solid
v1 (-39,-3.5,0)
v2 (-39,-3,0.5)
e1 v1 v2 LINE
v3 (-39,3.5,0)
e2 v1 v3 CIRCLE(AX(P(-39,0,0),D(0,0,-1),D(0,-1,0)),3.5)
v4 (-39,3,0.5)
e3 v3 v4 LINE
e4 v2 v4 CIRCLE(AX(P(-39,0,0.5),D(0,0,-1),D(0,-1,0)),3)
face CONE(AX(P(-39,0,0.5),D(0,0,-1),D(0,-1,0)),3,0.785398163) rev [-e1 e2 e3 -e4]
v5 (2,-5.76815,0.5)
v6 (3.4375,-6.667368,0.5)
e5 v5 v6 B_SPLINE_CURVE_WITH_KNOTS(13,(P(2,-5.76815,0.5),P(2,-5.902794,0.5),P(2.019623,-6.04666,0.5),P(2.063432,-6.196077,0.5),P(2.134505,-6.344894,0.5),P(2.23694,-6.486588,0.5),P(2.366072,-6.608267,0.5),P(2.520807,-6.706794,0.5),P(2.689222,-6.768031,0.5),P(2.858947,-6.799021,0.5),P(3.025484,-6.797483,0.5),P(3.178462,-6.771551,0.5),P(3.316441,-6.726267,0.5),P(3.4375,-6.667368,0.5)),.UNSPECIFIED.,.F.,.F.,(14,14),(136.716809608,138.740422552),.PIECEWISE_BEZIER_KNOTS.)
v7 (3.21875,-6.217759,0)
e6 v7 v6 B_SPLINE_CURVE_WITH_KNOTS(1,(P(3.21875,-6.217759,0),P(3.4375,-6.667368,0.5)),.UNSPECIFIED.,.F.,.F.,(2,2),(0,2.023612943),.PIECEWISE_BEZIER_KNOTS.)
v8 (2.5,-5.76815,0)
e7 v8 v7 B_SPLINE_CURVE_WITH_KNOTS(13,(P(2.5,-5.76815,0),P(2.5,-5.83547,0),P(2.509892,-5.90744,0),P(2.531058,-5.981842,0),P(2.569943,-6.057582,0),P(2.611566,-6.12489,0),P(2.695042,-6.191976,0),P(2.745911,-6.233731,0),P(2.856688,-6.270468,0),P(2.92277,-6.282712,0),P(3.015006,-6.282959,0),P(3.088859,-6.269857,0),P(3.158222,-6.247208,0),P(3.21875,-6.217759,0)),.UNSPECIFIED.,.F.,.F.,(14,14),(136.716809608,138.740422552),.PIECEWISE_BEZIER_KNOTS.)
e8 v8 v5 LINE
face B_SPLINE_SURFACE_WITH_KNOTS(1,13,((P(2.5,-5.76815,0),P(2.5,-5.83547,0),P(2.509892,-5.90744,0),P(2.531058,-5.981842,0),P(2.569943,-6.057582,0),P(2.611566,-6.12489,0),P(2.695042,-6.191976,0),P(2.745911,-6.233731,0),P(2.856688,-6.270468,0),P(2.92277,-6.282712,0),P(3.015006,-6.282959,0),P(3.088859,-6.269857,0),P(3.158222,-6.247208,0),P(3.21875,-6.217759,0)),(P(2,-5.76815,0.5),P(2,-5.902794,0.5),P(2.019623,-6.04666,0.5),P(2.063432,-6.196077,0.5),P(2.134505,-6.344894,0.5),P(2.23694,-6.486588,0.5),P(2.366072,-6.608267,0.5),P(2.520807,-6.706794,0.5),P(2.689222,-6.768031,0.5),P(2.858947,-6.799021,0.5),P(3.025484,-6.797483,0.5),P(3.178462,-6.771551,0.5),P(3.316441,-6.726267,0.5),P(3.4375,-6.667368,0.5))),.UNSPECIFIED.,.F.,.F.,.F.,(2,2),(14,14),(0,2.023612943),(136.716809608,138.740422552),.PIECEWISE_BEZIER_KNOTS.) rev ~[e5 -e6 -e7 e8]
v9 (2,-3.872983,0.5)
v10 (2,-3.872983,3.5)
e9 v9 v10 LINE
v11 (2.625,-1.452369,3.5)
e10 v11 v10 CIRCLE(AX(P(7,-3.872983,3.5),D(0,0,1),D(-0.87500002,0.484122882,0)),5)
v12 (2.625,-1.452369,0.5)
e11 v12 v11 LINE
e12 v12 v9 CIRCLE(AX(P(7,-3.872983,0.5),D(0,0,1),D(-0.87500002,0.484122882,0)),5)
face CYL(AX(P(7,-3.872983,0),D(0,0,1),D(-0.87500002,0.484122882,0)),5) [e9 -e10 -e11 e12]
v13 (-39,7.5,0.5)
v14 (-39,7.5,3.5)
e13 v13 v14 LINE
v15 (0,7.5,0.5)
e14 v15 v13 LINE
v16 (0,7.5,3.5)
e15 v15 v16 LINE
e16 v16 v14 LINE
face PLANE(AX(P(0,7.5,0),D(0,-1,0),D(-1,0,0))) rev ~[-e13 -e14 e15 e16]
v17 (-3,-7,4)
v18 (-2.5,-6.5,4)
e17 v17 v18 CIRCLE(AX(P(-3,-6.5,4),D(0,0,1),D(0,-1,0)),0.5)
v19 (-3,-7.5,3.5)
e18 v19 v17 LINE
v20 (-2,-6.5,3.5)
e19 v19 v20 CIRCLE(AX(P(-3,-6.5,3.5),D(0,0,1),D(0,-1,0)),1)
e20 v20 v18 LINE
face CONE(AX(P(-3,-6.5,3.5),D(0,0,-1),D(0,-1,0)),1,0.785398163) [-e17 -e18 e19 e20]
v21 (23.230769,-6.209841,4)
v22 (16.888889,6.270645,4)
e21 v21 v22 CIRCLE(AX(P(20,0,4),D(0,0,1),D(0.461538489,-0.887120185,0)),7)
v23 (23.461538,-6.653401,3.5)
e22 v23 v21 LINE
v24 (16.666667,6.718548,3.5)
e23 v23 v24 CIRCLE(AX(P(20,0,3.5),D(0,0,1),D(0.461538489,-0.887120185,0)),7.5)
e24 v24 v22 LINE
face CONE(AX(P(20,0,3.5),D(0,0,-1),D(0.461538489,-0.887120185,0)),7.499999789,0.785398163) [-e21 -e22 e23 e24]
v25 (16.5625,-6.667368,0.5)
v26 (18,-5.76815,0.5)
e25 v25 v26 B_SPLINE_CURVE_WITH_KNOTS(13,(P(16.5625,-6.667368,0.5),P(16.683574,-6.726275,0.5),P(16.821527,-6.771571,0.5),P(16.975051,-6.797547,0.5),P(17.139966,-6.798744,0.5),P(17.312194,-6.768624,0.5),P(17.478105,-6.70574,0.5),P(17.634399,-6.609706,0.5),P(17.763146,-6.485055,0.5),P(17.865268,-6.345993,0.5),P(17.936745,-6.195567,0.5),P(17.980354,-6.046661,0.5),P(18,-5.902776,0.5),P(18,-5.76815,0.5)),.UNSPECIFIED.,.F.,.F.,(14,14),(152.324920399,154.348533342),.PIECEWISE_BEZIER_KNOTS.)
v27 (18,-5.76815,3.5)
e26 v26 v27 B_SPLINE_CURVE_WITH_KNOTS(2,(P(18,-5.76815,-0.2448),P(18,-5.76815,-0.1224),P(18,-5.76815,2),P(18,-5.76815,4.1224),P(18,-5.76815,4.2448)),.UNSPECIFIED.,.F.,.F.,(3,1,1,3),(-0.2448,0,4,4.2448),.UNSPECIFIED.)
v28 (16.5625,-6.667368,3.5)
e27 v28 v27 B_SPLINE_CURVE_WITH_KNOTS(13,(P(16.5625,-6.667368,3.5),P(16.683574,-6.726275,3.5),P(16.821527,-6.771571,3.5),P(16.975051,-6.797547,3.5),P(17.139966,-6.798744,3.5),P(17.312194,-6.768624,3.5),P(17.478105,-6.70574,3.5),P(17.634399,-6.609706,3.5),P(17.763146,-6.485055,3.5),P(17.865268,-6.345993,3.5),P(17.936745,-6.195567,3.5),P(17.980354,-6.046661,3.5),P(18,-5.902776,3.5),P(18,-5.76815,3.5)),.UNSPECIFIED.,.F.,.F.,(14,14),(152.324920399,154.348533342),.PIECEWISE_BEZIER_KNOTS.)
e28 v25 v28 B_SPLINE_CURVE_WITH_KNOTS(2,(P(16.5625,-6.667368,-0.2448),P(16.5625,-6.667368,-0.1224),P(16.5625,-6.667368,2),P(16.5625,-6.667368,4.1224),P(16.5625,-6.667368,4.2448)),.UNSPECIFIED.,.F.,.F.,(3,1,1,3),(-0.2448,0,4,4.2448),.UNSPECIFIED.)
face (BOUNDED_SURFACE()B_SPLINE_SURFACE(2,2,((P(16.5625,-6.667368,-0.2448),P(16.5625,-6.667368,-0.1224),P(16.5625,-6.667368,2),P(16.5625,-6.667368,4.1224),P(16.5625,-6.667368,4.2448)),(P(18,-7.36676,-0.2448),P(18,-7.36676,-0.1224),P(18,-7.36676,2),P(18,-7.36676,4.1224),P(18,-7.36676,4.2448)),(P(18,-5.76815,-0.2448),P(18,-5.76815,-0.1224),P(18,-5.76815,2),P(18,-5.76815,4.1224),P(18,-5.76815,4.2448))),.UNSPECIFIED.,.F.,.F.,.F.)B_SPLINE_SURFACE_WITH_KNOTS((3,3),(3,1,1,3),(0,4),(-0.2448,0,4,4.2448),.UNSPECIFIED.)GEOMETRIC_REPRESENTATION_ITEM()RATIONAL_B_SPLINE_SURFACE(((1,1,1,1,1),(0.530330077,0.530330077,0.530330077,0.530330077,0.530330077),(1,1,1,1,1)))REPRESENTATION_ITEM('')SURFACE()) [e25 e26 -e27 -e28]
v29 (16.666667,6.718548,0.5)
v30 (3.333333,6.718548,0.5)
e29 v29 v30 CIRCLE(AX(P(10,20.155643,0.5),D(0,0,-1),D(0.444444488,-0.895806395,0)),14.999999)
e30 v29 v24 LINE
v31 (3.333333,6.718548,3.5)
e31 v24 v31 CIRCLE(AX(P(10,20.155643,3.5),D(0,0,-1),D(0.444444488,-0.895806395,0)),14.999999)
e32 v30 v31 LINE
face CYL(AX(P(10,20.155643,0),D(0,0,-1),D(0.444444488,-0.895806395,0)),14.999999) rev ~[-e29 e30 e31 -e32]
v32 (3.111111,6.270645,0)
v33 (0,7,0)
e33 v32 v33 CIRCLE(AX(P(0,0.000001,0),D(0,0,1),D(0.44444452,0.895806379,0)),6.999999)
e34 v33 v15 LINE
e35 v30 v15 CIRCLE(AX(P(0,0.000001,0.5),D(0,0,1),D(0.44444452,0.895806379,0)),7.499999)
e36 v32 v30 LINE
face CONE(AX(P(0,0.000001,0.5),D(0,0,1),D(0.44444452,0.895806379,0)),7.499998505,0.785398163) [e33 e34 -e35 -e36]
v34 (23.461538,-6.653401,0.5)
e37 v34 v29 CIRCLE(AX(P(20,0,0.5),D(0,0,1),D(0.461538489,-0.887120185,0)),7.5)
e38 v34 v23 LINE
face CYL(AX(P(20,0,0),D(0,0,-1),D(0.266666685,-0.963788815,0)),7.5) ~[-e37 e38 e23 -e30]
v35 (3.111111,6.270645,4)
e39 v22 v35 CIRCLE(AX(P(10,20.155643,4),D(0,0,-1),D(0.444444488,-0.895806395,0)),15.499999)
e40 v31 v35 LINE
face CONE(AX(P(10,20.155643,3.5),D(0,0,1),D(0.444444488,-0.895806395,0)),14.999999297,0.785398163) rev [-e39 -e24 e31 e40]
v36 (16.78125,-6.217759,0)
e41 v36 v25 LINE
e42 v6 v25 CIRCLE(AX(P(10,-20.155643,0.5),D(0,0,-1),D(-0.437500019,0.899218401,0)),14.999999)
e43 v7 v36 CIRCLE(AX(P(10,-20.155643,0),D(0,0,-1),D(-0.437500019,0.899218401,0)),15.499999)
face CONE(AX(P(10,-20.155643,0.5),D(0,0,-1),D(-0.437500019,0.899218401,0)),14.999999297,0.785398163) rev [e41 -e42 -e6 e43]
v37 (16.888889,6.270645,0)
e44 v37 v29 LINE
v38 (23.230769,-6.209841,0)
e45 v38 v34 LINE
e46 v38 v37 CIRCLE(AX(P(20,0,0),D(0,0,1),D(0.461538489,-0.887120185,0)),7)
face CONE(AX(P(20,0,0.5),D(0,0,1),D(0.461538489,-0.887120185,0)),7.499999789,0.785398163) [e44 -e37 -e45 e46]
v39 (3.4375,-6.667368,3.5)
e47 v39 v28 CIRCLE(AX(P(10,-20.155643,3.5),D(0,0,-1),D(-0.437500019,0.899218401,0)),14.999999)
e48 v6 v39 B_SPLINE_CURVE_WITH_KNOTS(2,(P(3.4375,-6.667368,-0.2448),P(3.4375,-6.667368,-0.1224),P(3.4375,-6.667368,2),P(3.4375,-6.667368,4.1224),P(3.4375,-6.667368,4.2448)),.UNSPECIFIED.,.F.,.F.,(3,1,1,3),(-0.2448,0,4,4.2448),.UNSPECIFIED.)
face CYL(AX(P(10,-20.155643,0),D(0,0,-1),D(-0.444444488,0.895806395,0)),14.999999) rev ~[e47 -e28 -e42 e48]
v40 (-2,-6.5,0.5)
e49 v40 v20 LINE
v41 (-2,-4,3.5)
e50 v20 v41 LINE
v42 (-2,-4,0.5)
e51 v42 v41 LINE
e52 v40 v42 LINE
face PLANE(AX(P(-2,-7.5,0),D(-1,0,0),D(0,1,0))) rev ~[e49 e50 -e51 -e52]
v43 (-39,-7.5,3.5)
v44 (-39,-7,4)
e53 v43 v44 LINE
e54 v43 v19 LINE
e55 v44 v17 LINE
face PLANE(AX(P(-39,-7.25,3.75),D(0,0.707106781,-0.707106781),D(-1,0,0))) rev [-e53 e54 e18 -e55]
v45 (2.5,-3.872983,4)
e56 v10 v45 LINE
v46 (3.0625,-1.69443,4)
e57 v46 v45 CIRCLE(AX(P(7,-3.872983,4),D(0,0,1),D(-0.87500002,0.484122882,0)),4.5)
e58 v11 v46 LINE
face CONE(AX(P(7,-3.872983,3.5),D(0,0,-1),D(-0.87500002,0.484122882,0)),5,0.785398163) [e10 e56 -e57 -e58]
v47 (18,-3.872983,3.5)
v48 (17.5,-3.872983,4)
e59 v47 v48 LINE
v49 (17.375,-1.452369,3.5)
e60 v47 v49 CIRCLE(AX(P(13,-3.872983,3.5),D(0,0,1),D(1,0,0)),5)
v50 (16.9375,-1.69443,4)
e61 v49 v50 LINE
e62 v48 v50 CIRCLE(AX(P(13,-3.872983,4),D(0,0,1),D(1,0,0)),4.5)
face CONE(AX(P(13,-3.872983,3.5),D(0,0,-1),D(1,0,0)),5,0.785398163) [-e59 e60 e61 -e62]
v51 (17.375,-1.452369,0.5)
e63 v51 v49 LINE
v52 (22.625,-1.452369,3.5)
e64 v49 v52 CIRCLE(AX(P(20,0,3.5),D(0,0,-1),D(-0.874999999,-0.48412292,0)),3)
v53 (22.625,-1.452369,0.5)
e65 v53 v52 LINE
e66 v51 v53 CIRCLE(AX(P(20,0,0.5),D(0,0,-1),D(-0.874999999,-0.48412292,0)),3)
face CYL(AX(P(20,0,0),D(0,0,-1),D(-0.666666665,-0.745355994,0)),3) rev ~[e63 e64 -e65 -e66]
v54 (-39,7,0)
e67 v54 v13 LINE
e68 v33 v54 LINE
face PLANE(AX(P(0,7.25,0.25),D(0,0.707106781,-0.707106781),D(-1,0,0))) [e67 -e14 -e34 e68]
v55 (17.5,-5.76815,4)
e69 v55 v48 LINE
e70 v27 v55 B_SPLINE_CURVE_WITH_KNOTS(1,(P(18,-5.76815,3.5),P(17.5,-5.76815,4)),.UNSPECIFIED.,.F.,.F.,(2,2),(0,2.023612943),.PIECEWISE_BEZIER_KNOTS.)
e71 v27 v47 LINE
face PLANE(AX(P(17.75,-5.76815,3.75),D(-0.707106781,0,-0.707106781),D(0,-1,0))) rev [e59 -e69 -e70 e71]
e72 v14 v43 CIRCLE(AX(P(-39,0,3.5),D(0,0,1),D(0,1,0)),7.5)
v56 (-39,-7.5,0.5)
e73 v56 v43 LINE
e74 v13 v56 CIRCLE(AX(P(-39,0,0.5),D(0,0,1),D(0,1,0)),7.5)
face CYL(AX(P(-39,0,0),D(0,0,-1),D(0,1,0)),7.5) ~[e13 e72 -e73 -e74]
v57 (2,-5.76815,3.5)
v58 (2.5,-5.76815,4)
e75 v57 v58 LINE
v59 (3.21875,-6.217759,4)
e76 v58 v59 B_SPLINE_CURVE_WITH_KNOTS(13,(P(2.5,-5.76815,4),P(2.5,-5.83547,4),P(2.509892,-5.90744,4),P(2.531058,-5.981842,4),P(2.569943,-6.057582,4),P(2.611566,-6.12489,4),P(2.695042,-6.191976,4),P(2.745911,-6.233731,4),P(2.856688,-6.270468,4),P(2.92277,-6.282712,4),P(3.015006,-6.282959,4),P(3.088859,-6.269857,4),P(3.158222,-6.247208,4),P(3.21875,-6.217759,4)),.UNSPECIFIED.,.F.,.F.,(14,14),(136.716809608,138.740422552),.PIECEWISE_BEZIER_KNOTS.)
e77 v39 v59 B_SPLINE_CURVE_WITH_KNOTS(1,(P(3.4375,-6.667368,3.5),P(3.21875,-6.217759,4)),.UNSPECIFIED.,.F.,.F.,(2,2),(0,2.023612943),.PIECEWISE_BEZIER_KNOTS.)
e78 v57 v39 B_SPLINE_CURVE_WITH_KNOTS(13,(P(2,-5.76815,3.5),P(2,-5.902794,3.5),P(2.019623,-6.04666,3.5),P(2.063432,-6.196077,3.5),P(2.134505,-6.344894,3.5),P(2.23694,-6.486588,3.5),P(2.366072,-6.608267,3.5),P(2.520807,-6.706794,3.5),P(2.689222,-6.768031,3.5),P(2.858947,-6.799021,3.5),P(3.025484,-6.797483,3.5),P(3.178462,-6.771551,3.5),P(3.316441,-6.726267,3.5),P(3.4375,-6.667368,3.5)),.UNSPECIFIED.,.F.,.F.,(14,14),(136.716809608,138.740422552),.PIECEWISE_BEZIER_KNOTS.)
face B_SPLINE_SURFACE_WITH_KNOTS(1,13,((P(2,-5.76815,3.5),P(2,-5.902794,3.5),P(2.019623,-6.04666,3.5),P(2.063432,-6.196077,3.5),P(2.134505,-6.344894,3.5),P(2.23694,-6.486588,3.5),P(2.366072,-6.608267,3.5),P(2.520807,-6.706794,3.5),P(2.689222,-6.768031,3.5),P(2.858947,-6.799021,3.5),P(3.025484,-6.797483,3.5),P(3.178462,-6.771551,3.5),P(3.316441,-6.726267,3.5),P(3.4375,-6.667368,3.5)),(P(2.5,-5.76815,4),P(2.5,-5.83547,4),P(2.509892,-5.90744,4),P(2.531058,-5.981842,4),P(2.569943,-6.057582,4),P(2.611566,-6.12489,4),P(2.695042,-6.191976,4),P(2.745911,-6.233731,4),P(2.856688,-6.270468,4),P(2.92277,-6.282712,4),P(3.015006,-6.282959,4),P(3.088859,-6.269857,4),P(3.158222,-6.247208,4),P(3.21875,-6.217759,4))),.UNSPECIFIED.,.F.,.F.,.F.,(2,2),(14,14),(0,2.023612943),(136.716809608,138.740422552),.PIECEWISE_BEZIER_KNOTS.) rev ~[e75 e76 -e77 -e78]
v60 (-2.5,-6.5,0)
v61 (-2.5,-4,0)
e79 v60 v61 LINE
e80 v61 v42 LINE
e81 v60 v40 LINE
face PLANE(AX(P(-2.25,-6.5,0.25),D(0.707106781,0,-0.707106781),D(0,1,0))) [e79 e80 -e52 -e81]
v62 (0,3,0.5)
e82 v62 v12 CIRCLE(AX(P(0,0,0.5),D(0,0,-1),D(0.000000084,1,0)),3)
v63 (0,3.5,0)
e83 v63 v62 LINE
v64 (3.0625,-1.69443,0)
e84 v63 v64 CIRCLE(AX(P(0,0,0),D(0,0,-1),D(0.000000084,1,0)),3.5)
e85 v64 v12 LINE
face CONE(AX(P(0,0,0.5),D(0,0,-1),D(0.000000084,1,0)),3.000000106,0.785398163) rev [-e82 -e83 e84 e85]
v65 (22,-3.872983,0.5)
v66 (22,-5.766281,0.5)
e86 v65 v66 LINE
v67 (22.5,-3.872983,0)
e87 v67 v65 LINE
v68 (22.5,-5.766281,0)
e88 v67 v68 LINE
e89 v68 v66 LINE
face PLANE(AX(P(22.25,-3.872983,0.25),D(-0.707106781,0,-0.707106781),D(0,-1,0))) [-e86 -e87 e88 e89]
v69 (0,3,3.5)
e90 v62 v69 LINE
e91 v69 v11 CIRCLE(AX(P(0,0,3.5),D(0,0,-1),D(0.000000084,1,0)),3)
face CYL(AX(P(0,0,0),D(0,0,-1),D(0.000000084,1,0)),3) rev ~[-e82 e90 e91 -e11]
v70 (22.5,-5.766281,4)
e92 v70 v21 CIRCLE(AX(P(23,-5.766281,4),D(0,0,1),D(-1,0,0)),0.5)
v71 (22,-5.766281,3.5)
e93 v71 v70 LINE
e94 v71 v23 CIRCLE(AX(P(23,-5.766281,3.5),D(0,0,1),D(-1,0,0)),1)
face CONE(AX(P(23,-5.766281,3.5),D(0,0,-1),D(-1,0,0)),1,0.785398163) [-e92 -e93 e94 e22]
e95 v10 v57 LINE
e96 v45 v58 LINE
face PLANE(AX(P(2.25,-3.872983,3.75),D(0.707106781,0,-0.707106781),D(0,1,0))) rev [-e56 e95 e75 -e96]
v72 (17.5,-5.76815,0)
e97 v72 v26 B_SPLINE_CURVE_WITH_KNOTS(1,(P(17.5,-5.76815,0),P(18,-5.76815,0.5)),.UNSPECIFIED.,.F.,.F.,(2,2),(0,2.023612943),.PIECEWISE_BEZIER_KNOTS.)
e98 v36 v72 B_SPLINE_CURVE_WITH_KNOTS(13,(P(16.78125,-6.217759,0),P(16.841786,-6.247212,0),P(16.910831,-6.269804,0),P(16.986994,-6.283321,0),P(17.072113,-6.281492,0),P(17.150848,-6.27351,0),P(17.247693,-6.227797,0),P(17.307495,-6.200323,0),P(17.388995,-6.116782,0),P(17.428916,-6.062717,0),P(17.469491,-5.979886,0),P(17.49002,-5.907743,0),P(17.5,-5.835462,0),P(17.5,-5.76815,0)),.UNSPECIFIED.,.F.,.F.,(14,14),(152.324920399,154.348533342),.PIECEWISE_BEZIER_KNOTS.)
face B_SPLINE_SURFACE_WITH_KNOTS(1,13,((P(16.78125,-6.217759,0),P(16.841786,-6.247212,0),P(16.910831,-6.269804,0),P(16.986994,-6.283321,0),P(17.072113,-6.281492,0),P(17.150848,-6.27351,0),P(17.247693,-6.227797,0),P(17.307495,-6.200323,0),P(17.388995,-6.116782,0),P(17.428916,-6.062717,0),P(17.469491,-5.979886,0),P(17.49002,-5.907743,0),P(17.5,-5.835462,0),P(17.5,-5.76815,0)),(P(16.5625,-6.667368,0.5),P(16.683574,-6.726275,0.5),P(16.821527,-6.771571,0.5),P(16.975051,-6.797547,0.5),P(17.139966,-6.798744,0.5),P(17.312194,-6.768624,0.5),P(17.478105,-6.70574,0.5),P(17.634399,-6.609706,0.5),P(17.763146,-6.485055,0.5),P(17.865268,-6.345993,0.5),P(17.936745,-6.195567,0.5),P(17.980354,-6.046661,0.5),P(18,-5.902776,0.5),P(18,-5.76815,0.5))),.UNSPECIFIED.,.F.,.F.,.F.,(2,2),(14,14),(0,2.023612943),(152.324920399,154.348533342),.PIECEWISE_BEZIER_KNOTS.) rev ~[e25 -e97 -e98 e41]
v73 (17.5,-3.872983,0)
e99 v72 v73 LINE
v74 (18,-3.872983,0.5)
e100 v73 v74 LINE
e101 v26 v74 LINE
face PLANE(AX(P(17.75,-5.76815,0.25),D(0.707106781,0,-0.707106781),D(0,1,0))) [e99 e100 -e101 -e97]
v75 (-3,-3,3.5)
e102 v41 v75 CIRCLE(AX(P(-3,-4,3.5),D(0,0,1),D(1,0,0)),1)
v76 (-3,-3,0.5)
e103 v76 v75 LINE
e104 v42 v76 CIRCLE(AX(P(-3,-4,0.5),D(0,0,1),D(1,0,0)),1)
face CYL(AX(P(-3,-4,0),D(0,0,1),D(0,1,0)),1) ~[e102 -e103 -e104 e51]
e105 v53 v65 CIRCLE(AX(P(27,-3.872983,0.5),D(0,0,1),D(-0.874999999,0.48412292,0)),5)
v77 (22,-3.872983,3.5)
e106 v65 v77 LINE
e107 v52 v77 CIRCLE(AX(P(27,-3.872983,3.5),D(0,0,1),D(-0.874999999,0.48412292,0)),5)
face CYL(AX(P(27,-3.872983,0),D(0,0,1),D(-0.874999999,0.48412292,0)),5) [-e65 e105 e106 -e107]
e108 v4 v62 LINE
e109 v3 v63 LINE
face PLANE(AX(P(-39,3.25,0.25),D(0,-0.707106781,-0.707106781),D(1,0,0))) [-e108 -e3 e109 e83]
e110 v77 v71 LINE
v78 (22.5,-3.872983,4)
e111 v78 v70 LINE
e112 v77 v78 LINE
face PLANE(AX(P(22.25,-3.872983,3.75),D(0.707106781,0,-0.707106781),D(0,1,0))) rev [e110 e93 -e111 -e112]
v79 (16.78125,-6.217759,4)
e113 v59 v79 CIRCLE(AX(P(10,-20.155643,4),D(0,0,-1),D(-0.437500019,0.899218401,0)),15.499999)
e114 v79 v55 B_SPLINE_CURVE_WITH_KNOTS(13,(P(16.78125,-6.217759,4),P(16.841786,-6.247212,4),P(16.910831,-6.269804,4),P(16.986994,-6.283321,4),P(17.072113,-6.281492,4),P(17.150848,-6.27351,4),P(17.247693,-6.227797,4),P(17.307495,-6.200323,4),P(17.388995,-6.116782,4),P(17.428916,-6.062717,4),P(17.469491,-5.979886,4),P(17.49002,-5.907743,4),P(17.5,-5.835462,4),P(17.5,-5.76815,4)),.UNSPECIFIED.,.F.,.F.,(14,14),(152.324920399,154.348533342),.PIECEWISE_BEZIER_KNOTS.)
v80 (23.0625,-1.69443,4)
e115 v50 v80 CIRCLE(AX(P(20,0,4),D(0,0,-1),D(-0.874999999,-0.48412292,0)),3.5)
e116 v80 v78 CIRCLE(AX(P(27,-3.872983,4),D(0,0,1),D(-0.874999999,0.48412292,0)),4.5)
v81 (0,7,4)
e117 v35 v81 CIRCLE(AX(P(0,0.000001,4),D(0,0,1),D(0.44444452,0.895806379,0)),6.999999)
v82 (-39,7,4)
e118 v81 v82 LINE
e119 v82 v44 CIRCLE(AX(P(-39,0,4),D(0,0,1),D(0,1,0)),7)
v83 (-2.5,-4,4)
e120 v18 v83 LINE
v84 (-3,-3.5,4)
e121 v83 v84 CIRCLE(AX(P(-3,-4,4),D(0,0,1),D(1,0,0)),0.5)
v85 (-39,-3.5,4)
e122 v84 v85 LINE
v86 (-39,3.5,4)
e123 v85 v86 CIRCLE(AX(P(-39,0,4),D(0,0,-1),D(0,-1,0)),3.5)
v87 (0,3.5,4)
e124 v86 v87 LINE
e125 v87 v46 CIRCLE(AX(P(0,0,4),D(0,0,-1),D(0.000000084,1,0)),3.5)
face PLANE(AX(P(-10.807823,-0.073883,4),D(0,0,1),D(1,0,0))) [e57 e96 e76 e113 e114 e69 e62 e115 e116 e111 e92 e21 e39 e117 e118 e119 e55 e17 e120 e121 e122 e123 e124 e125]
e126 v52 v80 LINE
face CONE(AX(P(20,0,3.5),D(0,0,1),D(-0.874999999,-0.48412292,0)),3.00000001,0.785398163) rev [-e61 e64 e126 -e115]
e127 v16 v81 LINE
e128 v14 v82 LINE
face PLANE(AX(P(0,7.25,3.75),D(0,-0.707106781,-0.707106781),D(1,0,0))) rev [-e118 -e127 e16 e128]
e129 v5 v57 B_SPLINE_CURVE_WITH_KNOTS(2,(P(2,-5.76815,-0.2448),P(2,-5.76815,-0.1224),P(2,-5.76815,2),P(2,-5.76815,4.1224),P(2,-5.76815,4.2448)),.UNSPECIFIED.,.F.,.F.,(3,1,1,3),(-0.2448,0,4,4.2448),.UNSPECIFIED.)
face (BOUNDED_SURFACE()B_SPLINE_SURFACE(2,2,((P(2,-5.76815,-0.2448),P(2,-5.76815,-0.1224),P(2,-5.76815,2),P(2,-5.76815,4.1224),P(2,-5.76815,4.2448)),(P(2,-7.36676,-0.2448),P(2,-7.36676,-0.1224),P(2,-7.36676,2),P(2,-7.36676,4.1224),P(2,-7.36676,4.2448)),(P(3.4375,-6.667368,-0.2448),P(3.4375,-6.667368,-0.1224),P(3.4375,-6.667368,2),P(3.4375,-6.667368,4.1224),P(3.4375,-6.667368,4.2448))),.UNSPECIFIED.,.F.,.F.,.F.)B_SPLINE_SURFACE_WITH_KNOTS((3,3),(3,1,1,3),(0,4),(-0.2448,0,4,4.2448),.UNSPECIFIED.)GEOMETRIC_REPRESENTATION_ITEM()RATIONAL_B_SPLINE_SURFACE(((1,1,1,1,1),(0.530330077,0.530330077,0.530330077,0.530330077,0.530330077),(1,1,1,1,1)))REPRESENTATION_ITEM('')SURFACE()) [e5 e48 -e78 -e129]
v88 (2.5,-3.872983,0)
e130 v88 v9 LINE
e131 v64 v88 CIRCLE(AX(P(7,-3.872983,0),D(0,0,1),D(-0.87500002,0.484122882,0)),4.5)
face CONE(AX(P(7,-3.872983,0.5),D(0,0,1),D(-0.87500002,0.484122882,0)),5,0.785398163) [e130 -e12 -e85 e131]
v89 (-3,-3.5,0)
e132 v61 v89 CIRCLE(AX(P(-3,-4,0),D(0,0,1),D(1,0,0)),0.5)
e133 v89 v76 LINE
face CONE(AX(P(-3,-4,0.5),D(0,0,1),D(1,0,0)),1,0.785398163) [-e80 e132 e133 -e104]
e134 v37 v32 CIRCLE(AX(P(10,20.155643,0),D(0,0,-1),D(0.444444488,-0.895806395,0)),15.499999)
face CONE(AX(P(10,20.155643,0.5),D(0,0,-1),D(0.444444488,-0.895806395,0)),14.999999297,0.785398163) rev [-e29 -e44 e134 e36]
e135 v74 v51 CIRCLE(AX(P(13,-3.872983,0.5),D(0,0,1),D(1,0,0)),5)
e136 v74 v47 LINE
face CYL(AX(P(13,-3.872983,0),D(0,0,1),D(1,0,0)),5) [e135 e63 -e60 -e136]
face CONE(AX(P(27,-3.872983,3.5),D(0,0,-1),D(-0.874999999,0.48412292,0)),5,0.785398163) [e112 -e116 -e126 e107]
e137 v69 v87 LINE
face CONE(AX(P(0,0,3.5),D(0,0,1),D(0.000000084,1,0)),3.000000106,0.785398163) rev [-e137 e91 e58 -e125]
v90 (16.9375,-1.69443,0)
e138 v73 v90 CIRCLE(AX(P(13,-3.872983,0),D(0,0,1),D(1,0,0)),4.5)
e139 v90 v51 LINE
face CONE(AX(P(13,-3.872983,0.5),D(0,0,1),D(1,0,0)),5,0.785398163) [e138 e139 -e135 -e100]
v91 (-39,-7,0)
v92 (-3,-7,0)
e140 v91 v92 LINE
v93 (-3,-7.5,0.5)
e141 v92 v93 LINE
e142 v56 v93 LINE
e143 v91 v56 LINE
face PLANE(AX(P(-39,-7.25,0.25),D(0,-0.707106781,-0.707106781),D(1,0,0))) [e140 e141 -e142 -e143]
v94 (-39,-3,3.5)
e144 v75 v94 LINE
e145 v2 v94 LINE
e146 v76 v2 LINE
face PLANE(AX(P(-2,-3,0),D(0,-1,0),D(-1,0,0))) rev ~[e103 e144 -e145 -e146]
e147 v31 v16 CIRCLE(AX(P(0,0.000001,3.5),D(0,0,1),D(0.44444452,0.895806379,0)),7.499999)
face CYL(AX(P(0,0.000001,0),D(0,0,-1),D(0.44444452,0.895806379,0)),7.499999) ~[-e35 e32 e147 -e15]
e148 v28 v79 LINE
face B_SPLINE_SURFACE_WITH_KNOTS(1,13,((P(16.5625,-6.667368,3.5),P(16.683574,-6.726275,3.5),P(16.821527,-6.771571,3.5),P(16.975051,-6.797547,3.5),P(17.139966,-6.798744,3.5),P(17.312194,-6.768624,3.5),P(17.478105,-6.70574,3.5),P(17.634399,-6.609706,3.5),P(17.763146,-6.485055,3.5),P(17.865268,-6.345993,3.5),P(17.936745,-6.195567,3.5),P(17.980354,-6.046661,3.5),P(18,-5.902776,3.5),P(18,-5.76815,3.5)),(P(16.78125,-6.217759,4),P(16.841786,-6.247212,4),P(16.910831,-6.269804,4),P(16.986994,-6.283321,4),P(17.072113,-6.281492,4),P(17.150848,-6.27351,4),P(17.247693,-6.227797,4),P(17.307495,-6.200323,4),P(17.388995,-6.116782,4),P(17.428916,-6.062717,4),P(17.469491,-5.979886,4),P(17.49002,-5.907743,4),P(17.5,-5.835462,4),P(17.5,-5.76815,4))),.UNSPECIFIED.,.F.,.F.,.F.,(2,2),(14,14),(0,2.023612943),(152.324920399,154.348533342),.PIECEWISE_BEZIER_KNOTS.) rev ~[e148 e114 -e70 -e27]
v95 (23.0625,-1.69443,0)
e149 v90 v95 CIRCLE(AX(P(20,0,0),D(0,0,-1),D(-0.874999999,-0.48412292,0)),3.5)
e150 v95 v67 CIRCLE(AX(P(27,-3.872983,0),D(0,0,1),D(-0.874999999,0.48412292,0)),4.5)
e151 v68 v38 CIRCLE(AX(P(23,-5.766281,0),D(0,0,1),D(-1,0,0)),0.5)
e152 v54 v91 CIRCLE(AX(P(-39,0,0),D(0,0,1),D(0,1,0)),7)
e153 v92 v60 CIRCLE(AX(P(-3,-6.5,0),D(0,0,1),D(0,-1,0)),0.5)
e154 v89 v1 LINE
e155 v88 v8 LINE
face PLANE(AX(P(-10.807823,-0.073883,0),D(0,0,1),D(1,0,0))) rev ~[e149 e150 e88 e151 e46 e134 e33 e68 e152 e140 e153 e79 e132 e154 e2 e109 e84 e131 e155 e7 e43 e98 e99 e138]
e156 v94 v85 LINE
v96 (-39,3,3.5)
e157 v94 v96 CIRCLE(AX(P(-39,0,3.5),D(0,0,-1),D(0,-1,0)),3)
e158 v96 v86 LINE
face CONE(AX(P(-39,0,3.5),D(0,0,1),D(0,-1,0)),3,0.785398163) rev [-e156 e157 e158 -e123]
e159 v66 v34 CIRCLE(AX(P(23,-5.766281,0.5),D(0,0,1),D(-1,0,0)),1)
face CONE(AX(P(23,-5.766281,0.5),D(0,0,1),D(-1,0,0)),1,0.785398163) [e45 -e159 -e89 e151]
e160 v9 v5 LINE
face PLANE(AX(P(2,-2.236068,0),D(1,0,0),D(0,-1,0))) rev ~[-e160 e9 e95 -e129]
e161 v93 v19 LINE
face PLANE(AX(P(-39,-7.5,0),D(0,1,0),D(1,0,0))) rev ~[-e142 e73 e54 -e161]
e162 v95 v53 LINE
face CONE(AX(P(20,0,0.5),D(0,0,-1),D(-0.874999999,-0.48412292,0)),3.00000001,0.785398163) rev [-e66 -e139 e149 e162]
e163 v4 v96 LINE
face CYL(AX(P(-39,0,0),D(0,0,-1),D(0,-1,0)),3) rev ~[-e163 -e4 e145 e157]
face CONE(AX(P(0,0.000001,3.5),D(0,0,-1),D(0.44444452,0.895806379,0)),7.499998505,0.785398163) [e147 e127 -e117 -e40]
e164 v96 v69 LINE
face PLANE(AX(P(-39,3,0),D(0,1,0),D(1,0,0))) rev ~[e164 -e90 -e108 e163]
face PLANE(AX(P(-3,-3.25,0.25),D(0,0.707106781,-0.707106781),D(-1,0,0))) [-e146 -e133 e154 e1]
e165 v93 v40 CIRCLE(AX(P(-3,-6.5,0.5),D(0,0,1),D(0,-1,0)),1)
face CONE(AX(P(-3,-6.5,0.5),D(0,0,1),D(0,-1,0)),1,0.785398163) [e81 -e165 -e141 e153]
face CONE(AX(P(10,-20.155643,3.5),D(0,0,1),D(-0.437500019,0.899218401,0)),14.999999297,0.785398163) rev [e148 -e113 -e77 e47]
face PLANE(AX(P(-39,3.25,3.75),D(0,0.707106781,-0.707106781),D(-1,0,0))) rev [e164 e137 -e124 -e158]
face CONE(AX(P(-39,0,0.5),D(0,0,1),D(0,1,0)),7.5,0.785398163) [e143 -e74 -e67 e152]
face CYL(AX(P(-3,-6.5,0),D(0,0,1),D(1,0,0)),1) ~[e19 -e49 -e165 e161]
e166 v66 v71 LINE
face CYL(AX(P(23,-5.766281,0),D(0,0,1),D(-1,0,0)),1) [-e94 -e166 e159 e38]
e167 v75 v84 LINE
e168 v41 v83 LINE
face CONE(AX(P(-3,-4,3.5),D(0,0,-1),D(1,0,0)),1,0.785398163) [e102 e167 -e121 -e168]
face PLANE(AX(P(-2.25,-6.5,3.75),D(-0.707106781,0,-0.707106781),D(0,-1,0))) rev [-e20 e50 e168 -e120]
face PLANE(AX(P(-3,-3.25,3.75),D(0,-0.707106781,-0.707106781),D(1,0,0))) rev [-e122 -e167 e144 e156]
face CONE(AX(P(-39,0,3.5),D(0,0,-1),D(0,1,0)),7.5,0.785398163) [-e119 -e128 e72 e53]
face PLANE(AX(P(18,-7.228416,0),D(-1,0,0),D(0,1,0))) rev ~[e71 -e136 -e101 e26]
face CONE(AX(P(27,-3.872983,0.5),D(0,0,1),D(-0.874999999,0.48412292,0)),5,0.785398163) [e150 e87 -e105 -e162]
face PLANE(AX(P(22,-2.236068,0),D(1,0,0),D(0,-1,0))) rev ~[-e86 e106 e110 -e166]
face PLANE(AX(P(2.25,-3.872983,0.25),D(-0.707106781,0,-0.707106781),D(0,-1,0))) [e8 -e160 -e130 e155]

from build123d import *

# Parameters (mm, degrees)
F1_DEPTH = 4
F2_R     = 5
F3_R     = 1
F4_SIZE  = 0.5


with BuildPart() as f1:
    # F0 (on Top) → F1 (new body)
    with BuildSketch(Plane.XY):
        with BuildLine():
            ThreePointArc((0, 3), (2.802517, 1.070466), (2, -2.236068))
            Line((2, -2.236068), (2, -7.228416))
            ThreePointArc((2, -7.228416), (2.678825, -7.005276), (3.333333, -6.718548))
            ThreePointArc((3.333333, -6.718548), (10, -5.155644), (16.666667, -6.718548))
            ThreePointArc((16.666667, -6.718548), (17.321175, -7.005276), (18, -7.228416))
            Line((18, -7.228416), (18, -2.236068))
            ThreePointArc((18, -2.236068), (20, 3), (22, -2.236068))
            Line((22, -2.236068), (22, -7.228416))
            ThreePointArc((22, -7.228416), (27.005276, 2.678825), (16.666667, 6.718548))
            ThreePointArc((16.666667, 6.718548), (10, 5.155644), (3.333333, 6.718548))
            ThreePointArc((3.333333, 6.718548), (1.711854, 7.302024), (0, 7.5))
            Line((0, 7.5), (-39, 7.5))
            ThreePointArc((-39, 7.5), (-46.5, 0), (-39, -7.5))
            Line((-39, -7.5), (-2, -7.5))
            Line((-2, -7.5), (-2, -3))
            Line((-2, -3), (-39, -3))
            ThreePointArc((-39, -3), (-42, 0), (-39, 3))
            Line((-39, 3), (0, 3))
        make_face()
    extrude(amount=F1_DEPTH)

    # F2
    f2_edges = [f1.edges().sort_by_distance(p)[0] for p in [
        (2, -2.236068, 2),
        (18, -2.236068, 2),
        (22, -2.236068, 2),
    ]]
    fillet(f2_edges, radius=F2_R)

    # F3
    f3_edges = [f1.edges().sort_by_distance(p)[0] for p in [
        (-2, -3, 2),
        (2, -7.228416, 2),
        (-2, -7.5, 2),
        (18, -7.228416, 2),
        (22, -7.228416, 2),
    ]]
    fillet(f3_edges, radius=F3_R)

    # F4
    f4_edges = [f1.edges().sort_by_distance(p)[0] for p in [
        (-21, -7.5, 4),
        (-21, -7.5, 0),
    ]]
    chamfer(f4_edges, length=F4_SIZE)


solid = f1.part
